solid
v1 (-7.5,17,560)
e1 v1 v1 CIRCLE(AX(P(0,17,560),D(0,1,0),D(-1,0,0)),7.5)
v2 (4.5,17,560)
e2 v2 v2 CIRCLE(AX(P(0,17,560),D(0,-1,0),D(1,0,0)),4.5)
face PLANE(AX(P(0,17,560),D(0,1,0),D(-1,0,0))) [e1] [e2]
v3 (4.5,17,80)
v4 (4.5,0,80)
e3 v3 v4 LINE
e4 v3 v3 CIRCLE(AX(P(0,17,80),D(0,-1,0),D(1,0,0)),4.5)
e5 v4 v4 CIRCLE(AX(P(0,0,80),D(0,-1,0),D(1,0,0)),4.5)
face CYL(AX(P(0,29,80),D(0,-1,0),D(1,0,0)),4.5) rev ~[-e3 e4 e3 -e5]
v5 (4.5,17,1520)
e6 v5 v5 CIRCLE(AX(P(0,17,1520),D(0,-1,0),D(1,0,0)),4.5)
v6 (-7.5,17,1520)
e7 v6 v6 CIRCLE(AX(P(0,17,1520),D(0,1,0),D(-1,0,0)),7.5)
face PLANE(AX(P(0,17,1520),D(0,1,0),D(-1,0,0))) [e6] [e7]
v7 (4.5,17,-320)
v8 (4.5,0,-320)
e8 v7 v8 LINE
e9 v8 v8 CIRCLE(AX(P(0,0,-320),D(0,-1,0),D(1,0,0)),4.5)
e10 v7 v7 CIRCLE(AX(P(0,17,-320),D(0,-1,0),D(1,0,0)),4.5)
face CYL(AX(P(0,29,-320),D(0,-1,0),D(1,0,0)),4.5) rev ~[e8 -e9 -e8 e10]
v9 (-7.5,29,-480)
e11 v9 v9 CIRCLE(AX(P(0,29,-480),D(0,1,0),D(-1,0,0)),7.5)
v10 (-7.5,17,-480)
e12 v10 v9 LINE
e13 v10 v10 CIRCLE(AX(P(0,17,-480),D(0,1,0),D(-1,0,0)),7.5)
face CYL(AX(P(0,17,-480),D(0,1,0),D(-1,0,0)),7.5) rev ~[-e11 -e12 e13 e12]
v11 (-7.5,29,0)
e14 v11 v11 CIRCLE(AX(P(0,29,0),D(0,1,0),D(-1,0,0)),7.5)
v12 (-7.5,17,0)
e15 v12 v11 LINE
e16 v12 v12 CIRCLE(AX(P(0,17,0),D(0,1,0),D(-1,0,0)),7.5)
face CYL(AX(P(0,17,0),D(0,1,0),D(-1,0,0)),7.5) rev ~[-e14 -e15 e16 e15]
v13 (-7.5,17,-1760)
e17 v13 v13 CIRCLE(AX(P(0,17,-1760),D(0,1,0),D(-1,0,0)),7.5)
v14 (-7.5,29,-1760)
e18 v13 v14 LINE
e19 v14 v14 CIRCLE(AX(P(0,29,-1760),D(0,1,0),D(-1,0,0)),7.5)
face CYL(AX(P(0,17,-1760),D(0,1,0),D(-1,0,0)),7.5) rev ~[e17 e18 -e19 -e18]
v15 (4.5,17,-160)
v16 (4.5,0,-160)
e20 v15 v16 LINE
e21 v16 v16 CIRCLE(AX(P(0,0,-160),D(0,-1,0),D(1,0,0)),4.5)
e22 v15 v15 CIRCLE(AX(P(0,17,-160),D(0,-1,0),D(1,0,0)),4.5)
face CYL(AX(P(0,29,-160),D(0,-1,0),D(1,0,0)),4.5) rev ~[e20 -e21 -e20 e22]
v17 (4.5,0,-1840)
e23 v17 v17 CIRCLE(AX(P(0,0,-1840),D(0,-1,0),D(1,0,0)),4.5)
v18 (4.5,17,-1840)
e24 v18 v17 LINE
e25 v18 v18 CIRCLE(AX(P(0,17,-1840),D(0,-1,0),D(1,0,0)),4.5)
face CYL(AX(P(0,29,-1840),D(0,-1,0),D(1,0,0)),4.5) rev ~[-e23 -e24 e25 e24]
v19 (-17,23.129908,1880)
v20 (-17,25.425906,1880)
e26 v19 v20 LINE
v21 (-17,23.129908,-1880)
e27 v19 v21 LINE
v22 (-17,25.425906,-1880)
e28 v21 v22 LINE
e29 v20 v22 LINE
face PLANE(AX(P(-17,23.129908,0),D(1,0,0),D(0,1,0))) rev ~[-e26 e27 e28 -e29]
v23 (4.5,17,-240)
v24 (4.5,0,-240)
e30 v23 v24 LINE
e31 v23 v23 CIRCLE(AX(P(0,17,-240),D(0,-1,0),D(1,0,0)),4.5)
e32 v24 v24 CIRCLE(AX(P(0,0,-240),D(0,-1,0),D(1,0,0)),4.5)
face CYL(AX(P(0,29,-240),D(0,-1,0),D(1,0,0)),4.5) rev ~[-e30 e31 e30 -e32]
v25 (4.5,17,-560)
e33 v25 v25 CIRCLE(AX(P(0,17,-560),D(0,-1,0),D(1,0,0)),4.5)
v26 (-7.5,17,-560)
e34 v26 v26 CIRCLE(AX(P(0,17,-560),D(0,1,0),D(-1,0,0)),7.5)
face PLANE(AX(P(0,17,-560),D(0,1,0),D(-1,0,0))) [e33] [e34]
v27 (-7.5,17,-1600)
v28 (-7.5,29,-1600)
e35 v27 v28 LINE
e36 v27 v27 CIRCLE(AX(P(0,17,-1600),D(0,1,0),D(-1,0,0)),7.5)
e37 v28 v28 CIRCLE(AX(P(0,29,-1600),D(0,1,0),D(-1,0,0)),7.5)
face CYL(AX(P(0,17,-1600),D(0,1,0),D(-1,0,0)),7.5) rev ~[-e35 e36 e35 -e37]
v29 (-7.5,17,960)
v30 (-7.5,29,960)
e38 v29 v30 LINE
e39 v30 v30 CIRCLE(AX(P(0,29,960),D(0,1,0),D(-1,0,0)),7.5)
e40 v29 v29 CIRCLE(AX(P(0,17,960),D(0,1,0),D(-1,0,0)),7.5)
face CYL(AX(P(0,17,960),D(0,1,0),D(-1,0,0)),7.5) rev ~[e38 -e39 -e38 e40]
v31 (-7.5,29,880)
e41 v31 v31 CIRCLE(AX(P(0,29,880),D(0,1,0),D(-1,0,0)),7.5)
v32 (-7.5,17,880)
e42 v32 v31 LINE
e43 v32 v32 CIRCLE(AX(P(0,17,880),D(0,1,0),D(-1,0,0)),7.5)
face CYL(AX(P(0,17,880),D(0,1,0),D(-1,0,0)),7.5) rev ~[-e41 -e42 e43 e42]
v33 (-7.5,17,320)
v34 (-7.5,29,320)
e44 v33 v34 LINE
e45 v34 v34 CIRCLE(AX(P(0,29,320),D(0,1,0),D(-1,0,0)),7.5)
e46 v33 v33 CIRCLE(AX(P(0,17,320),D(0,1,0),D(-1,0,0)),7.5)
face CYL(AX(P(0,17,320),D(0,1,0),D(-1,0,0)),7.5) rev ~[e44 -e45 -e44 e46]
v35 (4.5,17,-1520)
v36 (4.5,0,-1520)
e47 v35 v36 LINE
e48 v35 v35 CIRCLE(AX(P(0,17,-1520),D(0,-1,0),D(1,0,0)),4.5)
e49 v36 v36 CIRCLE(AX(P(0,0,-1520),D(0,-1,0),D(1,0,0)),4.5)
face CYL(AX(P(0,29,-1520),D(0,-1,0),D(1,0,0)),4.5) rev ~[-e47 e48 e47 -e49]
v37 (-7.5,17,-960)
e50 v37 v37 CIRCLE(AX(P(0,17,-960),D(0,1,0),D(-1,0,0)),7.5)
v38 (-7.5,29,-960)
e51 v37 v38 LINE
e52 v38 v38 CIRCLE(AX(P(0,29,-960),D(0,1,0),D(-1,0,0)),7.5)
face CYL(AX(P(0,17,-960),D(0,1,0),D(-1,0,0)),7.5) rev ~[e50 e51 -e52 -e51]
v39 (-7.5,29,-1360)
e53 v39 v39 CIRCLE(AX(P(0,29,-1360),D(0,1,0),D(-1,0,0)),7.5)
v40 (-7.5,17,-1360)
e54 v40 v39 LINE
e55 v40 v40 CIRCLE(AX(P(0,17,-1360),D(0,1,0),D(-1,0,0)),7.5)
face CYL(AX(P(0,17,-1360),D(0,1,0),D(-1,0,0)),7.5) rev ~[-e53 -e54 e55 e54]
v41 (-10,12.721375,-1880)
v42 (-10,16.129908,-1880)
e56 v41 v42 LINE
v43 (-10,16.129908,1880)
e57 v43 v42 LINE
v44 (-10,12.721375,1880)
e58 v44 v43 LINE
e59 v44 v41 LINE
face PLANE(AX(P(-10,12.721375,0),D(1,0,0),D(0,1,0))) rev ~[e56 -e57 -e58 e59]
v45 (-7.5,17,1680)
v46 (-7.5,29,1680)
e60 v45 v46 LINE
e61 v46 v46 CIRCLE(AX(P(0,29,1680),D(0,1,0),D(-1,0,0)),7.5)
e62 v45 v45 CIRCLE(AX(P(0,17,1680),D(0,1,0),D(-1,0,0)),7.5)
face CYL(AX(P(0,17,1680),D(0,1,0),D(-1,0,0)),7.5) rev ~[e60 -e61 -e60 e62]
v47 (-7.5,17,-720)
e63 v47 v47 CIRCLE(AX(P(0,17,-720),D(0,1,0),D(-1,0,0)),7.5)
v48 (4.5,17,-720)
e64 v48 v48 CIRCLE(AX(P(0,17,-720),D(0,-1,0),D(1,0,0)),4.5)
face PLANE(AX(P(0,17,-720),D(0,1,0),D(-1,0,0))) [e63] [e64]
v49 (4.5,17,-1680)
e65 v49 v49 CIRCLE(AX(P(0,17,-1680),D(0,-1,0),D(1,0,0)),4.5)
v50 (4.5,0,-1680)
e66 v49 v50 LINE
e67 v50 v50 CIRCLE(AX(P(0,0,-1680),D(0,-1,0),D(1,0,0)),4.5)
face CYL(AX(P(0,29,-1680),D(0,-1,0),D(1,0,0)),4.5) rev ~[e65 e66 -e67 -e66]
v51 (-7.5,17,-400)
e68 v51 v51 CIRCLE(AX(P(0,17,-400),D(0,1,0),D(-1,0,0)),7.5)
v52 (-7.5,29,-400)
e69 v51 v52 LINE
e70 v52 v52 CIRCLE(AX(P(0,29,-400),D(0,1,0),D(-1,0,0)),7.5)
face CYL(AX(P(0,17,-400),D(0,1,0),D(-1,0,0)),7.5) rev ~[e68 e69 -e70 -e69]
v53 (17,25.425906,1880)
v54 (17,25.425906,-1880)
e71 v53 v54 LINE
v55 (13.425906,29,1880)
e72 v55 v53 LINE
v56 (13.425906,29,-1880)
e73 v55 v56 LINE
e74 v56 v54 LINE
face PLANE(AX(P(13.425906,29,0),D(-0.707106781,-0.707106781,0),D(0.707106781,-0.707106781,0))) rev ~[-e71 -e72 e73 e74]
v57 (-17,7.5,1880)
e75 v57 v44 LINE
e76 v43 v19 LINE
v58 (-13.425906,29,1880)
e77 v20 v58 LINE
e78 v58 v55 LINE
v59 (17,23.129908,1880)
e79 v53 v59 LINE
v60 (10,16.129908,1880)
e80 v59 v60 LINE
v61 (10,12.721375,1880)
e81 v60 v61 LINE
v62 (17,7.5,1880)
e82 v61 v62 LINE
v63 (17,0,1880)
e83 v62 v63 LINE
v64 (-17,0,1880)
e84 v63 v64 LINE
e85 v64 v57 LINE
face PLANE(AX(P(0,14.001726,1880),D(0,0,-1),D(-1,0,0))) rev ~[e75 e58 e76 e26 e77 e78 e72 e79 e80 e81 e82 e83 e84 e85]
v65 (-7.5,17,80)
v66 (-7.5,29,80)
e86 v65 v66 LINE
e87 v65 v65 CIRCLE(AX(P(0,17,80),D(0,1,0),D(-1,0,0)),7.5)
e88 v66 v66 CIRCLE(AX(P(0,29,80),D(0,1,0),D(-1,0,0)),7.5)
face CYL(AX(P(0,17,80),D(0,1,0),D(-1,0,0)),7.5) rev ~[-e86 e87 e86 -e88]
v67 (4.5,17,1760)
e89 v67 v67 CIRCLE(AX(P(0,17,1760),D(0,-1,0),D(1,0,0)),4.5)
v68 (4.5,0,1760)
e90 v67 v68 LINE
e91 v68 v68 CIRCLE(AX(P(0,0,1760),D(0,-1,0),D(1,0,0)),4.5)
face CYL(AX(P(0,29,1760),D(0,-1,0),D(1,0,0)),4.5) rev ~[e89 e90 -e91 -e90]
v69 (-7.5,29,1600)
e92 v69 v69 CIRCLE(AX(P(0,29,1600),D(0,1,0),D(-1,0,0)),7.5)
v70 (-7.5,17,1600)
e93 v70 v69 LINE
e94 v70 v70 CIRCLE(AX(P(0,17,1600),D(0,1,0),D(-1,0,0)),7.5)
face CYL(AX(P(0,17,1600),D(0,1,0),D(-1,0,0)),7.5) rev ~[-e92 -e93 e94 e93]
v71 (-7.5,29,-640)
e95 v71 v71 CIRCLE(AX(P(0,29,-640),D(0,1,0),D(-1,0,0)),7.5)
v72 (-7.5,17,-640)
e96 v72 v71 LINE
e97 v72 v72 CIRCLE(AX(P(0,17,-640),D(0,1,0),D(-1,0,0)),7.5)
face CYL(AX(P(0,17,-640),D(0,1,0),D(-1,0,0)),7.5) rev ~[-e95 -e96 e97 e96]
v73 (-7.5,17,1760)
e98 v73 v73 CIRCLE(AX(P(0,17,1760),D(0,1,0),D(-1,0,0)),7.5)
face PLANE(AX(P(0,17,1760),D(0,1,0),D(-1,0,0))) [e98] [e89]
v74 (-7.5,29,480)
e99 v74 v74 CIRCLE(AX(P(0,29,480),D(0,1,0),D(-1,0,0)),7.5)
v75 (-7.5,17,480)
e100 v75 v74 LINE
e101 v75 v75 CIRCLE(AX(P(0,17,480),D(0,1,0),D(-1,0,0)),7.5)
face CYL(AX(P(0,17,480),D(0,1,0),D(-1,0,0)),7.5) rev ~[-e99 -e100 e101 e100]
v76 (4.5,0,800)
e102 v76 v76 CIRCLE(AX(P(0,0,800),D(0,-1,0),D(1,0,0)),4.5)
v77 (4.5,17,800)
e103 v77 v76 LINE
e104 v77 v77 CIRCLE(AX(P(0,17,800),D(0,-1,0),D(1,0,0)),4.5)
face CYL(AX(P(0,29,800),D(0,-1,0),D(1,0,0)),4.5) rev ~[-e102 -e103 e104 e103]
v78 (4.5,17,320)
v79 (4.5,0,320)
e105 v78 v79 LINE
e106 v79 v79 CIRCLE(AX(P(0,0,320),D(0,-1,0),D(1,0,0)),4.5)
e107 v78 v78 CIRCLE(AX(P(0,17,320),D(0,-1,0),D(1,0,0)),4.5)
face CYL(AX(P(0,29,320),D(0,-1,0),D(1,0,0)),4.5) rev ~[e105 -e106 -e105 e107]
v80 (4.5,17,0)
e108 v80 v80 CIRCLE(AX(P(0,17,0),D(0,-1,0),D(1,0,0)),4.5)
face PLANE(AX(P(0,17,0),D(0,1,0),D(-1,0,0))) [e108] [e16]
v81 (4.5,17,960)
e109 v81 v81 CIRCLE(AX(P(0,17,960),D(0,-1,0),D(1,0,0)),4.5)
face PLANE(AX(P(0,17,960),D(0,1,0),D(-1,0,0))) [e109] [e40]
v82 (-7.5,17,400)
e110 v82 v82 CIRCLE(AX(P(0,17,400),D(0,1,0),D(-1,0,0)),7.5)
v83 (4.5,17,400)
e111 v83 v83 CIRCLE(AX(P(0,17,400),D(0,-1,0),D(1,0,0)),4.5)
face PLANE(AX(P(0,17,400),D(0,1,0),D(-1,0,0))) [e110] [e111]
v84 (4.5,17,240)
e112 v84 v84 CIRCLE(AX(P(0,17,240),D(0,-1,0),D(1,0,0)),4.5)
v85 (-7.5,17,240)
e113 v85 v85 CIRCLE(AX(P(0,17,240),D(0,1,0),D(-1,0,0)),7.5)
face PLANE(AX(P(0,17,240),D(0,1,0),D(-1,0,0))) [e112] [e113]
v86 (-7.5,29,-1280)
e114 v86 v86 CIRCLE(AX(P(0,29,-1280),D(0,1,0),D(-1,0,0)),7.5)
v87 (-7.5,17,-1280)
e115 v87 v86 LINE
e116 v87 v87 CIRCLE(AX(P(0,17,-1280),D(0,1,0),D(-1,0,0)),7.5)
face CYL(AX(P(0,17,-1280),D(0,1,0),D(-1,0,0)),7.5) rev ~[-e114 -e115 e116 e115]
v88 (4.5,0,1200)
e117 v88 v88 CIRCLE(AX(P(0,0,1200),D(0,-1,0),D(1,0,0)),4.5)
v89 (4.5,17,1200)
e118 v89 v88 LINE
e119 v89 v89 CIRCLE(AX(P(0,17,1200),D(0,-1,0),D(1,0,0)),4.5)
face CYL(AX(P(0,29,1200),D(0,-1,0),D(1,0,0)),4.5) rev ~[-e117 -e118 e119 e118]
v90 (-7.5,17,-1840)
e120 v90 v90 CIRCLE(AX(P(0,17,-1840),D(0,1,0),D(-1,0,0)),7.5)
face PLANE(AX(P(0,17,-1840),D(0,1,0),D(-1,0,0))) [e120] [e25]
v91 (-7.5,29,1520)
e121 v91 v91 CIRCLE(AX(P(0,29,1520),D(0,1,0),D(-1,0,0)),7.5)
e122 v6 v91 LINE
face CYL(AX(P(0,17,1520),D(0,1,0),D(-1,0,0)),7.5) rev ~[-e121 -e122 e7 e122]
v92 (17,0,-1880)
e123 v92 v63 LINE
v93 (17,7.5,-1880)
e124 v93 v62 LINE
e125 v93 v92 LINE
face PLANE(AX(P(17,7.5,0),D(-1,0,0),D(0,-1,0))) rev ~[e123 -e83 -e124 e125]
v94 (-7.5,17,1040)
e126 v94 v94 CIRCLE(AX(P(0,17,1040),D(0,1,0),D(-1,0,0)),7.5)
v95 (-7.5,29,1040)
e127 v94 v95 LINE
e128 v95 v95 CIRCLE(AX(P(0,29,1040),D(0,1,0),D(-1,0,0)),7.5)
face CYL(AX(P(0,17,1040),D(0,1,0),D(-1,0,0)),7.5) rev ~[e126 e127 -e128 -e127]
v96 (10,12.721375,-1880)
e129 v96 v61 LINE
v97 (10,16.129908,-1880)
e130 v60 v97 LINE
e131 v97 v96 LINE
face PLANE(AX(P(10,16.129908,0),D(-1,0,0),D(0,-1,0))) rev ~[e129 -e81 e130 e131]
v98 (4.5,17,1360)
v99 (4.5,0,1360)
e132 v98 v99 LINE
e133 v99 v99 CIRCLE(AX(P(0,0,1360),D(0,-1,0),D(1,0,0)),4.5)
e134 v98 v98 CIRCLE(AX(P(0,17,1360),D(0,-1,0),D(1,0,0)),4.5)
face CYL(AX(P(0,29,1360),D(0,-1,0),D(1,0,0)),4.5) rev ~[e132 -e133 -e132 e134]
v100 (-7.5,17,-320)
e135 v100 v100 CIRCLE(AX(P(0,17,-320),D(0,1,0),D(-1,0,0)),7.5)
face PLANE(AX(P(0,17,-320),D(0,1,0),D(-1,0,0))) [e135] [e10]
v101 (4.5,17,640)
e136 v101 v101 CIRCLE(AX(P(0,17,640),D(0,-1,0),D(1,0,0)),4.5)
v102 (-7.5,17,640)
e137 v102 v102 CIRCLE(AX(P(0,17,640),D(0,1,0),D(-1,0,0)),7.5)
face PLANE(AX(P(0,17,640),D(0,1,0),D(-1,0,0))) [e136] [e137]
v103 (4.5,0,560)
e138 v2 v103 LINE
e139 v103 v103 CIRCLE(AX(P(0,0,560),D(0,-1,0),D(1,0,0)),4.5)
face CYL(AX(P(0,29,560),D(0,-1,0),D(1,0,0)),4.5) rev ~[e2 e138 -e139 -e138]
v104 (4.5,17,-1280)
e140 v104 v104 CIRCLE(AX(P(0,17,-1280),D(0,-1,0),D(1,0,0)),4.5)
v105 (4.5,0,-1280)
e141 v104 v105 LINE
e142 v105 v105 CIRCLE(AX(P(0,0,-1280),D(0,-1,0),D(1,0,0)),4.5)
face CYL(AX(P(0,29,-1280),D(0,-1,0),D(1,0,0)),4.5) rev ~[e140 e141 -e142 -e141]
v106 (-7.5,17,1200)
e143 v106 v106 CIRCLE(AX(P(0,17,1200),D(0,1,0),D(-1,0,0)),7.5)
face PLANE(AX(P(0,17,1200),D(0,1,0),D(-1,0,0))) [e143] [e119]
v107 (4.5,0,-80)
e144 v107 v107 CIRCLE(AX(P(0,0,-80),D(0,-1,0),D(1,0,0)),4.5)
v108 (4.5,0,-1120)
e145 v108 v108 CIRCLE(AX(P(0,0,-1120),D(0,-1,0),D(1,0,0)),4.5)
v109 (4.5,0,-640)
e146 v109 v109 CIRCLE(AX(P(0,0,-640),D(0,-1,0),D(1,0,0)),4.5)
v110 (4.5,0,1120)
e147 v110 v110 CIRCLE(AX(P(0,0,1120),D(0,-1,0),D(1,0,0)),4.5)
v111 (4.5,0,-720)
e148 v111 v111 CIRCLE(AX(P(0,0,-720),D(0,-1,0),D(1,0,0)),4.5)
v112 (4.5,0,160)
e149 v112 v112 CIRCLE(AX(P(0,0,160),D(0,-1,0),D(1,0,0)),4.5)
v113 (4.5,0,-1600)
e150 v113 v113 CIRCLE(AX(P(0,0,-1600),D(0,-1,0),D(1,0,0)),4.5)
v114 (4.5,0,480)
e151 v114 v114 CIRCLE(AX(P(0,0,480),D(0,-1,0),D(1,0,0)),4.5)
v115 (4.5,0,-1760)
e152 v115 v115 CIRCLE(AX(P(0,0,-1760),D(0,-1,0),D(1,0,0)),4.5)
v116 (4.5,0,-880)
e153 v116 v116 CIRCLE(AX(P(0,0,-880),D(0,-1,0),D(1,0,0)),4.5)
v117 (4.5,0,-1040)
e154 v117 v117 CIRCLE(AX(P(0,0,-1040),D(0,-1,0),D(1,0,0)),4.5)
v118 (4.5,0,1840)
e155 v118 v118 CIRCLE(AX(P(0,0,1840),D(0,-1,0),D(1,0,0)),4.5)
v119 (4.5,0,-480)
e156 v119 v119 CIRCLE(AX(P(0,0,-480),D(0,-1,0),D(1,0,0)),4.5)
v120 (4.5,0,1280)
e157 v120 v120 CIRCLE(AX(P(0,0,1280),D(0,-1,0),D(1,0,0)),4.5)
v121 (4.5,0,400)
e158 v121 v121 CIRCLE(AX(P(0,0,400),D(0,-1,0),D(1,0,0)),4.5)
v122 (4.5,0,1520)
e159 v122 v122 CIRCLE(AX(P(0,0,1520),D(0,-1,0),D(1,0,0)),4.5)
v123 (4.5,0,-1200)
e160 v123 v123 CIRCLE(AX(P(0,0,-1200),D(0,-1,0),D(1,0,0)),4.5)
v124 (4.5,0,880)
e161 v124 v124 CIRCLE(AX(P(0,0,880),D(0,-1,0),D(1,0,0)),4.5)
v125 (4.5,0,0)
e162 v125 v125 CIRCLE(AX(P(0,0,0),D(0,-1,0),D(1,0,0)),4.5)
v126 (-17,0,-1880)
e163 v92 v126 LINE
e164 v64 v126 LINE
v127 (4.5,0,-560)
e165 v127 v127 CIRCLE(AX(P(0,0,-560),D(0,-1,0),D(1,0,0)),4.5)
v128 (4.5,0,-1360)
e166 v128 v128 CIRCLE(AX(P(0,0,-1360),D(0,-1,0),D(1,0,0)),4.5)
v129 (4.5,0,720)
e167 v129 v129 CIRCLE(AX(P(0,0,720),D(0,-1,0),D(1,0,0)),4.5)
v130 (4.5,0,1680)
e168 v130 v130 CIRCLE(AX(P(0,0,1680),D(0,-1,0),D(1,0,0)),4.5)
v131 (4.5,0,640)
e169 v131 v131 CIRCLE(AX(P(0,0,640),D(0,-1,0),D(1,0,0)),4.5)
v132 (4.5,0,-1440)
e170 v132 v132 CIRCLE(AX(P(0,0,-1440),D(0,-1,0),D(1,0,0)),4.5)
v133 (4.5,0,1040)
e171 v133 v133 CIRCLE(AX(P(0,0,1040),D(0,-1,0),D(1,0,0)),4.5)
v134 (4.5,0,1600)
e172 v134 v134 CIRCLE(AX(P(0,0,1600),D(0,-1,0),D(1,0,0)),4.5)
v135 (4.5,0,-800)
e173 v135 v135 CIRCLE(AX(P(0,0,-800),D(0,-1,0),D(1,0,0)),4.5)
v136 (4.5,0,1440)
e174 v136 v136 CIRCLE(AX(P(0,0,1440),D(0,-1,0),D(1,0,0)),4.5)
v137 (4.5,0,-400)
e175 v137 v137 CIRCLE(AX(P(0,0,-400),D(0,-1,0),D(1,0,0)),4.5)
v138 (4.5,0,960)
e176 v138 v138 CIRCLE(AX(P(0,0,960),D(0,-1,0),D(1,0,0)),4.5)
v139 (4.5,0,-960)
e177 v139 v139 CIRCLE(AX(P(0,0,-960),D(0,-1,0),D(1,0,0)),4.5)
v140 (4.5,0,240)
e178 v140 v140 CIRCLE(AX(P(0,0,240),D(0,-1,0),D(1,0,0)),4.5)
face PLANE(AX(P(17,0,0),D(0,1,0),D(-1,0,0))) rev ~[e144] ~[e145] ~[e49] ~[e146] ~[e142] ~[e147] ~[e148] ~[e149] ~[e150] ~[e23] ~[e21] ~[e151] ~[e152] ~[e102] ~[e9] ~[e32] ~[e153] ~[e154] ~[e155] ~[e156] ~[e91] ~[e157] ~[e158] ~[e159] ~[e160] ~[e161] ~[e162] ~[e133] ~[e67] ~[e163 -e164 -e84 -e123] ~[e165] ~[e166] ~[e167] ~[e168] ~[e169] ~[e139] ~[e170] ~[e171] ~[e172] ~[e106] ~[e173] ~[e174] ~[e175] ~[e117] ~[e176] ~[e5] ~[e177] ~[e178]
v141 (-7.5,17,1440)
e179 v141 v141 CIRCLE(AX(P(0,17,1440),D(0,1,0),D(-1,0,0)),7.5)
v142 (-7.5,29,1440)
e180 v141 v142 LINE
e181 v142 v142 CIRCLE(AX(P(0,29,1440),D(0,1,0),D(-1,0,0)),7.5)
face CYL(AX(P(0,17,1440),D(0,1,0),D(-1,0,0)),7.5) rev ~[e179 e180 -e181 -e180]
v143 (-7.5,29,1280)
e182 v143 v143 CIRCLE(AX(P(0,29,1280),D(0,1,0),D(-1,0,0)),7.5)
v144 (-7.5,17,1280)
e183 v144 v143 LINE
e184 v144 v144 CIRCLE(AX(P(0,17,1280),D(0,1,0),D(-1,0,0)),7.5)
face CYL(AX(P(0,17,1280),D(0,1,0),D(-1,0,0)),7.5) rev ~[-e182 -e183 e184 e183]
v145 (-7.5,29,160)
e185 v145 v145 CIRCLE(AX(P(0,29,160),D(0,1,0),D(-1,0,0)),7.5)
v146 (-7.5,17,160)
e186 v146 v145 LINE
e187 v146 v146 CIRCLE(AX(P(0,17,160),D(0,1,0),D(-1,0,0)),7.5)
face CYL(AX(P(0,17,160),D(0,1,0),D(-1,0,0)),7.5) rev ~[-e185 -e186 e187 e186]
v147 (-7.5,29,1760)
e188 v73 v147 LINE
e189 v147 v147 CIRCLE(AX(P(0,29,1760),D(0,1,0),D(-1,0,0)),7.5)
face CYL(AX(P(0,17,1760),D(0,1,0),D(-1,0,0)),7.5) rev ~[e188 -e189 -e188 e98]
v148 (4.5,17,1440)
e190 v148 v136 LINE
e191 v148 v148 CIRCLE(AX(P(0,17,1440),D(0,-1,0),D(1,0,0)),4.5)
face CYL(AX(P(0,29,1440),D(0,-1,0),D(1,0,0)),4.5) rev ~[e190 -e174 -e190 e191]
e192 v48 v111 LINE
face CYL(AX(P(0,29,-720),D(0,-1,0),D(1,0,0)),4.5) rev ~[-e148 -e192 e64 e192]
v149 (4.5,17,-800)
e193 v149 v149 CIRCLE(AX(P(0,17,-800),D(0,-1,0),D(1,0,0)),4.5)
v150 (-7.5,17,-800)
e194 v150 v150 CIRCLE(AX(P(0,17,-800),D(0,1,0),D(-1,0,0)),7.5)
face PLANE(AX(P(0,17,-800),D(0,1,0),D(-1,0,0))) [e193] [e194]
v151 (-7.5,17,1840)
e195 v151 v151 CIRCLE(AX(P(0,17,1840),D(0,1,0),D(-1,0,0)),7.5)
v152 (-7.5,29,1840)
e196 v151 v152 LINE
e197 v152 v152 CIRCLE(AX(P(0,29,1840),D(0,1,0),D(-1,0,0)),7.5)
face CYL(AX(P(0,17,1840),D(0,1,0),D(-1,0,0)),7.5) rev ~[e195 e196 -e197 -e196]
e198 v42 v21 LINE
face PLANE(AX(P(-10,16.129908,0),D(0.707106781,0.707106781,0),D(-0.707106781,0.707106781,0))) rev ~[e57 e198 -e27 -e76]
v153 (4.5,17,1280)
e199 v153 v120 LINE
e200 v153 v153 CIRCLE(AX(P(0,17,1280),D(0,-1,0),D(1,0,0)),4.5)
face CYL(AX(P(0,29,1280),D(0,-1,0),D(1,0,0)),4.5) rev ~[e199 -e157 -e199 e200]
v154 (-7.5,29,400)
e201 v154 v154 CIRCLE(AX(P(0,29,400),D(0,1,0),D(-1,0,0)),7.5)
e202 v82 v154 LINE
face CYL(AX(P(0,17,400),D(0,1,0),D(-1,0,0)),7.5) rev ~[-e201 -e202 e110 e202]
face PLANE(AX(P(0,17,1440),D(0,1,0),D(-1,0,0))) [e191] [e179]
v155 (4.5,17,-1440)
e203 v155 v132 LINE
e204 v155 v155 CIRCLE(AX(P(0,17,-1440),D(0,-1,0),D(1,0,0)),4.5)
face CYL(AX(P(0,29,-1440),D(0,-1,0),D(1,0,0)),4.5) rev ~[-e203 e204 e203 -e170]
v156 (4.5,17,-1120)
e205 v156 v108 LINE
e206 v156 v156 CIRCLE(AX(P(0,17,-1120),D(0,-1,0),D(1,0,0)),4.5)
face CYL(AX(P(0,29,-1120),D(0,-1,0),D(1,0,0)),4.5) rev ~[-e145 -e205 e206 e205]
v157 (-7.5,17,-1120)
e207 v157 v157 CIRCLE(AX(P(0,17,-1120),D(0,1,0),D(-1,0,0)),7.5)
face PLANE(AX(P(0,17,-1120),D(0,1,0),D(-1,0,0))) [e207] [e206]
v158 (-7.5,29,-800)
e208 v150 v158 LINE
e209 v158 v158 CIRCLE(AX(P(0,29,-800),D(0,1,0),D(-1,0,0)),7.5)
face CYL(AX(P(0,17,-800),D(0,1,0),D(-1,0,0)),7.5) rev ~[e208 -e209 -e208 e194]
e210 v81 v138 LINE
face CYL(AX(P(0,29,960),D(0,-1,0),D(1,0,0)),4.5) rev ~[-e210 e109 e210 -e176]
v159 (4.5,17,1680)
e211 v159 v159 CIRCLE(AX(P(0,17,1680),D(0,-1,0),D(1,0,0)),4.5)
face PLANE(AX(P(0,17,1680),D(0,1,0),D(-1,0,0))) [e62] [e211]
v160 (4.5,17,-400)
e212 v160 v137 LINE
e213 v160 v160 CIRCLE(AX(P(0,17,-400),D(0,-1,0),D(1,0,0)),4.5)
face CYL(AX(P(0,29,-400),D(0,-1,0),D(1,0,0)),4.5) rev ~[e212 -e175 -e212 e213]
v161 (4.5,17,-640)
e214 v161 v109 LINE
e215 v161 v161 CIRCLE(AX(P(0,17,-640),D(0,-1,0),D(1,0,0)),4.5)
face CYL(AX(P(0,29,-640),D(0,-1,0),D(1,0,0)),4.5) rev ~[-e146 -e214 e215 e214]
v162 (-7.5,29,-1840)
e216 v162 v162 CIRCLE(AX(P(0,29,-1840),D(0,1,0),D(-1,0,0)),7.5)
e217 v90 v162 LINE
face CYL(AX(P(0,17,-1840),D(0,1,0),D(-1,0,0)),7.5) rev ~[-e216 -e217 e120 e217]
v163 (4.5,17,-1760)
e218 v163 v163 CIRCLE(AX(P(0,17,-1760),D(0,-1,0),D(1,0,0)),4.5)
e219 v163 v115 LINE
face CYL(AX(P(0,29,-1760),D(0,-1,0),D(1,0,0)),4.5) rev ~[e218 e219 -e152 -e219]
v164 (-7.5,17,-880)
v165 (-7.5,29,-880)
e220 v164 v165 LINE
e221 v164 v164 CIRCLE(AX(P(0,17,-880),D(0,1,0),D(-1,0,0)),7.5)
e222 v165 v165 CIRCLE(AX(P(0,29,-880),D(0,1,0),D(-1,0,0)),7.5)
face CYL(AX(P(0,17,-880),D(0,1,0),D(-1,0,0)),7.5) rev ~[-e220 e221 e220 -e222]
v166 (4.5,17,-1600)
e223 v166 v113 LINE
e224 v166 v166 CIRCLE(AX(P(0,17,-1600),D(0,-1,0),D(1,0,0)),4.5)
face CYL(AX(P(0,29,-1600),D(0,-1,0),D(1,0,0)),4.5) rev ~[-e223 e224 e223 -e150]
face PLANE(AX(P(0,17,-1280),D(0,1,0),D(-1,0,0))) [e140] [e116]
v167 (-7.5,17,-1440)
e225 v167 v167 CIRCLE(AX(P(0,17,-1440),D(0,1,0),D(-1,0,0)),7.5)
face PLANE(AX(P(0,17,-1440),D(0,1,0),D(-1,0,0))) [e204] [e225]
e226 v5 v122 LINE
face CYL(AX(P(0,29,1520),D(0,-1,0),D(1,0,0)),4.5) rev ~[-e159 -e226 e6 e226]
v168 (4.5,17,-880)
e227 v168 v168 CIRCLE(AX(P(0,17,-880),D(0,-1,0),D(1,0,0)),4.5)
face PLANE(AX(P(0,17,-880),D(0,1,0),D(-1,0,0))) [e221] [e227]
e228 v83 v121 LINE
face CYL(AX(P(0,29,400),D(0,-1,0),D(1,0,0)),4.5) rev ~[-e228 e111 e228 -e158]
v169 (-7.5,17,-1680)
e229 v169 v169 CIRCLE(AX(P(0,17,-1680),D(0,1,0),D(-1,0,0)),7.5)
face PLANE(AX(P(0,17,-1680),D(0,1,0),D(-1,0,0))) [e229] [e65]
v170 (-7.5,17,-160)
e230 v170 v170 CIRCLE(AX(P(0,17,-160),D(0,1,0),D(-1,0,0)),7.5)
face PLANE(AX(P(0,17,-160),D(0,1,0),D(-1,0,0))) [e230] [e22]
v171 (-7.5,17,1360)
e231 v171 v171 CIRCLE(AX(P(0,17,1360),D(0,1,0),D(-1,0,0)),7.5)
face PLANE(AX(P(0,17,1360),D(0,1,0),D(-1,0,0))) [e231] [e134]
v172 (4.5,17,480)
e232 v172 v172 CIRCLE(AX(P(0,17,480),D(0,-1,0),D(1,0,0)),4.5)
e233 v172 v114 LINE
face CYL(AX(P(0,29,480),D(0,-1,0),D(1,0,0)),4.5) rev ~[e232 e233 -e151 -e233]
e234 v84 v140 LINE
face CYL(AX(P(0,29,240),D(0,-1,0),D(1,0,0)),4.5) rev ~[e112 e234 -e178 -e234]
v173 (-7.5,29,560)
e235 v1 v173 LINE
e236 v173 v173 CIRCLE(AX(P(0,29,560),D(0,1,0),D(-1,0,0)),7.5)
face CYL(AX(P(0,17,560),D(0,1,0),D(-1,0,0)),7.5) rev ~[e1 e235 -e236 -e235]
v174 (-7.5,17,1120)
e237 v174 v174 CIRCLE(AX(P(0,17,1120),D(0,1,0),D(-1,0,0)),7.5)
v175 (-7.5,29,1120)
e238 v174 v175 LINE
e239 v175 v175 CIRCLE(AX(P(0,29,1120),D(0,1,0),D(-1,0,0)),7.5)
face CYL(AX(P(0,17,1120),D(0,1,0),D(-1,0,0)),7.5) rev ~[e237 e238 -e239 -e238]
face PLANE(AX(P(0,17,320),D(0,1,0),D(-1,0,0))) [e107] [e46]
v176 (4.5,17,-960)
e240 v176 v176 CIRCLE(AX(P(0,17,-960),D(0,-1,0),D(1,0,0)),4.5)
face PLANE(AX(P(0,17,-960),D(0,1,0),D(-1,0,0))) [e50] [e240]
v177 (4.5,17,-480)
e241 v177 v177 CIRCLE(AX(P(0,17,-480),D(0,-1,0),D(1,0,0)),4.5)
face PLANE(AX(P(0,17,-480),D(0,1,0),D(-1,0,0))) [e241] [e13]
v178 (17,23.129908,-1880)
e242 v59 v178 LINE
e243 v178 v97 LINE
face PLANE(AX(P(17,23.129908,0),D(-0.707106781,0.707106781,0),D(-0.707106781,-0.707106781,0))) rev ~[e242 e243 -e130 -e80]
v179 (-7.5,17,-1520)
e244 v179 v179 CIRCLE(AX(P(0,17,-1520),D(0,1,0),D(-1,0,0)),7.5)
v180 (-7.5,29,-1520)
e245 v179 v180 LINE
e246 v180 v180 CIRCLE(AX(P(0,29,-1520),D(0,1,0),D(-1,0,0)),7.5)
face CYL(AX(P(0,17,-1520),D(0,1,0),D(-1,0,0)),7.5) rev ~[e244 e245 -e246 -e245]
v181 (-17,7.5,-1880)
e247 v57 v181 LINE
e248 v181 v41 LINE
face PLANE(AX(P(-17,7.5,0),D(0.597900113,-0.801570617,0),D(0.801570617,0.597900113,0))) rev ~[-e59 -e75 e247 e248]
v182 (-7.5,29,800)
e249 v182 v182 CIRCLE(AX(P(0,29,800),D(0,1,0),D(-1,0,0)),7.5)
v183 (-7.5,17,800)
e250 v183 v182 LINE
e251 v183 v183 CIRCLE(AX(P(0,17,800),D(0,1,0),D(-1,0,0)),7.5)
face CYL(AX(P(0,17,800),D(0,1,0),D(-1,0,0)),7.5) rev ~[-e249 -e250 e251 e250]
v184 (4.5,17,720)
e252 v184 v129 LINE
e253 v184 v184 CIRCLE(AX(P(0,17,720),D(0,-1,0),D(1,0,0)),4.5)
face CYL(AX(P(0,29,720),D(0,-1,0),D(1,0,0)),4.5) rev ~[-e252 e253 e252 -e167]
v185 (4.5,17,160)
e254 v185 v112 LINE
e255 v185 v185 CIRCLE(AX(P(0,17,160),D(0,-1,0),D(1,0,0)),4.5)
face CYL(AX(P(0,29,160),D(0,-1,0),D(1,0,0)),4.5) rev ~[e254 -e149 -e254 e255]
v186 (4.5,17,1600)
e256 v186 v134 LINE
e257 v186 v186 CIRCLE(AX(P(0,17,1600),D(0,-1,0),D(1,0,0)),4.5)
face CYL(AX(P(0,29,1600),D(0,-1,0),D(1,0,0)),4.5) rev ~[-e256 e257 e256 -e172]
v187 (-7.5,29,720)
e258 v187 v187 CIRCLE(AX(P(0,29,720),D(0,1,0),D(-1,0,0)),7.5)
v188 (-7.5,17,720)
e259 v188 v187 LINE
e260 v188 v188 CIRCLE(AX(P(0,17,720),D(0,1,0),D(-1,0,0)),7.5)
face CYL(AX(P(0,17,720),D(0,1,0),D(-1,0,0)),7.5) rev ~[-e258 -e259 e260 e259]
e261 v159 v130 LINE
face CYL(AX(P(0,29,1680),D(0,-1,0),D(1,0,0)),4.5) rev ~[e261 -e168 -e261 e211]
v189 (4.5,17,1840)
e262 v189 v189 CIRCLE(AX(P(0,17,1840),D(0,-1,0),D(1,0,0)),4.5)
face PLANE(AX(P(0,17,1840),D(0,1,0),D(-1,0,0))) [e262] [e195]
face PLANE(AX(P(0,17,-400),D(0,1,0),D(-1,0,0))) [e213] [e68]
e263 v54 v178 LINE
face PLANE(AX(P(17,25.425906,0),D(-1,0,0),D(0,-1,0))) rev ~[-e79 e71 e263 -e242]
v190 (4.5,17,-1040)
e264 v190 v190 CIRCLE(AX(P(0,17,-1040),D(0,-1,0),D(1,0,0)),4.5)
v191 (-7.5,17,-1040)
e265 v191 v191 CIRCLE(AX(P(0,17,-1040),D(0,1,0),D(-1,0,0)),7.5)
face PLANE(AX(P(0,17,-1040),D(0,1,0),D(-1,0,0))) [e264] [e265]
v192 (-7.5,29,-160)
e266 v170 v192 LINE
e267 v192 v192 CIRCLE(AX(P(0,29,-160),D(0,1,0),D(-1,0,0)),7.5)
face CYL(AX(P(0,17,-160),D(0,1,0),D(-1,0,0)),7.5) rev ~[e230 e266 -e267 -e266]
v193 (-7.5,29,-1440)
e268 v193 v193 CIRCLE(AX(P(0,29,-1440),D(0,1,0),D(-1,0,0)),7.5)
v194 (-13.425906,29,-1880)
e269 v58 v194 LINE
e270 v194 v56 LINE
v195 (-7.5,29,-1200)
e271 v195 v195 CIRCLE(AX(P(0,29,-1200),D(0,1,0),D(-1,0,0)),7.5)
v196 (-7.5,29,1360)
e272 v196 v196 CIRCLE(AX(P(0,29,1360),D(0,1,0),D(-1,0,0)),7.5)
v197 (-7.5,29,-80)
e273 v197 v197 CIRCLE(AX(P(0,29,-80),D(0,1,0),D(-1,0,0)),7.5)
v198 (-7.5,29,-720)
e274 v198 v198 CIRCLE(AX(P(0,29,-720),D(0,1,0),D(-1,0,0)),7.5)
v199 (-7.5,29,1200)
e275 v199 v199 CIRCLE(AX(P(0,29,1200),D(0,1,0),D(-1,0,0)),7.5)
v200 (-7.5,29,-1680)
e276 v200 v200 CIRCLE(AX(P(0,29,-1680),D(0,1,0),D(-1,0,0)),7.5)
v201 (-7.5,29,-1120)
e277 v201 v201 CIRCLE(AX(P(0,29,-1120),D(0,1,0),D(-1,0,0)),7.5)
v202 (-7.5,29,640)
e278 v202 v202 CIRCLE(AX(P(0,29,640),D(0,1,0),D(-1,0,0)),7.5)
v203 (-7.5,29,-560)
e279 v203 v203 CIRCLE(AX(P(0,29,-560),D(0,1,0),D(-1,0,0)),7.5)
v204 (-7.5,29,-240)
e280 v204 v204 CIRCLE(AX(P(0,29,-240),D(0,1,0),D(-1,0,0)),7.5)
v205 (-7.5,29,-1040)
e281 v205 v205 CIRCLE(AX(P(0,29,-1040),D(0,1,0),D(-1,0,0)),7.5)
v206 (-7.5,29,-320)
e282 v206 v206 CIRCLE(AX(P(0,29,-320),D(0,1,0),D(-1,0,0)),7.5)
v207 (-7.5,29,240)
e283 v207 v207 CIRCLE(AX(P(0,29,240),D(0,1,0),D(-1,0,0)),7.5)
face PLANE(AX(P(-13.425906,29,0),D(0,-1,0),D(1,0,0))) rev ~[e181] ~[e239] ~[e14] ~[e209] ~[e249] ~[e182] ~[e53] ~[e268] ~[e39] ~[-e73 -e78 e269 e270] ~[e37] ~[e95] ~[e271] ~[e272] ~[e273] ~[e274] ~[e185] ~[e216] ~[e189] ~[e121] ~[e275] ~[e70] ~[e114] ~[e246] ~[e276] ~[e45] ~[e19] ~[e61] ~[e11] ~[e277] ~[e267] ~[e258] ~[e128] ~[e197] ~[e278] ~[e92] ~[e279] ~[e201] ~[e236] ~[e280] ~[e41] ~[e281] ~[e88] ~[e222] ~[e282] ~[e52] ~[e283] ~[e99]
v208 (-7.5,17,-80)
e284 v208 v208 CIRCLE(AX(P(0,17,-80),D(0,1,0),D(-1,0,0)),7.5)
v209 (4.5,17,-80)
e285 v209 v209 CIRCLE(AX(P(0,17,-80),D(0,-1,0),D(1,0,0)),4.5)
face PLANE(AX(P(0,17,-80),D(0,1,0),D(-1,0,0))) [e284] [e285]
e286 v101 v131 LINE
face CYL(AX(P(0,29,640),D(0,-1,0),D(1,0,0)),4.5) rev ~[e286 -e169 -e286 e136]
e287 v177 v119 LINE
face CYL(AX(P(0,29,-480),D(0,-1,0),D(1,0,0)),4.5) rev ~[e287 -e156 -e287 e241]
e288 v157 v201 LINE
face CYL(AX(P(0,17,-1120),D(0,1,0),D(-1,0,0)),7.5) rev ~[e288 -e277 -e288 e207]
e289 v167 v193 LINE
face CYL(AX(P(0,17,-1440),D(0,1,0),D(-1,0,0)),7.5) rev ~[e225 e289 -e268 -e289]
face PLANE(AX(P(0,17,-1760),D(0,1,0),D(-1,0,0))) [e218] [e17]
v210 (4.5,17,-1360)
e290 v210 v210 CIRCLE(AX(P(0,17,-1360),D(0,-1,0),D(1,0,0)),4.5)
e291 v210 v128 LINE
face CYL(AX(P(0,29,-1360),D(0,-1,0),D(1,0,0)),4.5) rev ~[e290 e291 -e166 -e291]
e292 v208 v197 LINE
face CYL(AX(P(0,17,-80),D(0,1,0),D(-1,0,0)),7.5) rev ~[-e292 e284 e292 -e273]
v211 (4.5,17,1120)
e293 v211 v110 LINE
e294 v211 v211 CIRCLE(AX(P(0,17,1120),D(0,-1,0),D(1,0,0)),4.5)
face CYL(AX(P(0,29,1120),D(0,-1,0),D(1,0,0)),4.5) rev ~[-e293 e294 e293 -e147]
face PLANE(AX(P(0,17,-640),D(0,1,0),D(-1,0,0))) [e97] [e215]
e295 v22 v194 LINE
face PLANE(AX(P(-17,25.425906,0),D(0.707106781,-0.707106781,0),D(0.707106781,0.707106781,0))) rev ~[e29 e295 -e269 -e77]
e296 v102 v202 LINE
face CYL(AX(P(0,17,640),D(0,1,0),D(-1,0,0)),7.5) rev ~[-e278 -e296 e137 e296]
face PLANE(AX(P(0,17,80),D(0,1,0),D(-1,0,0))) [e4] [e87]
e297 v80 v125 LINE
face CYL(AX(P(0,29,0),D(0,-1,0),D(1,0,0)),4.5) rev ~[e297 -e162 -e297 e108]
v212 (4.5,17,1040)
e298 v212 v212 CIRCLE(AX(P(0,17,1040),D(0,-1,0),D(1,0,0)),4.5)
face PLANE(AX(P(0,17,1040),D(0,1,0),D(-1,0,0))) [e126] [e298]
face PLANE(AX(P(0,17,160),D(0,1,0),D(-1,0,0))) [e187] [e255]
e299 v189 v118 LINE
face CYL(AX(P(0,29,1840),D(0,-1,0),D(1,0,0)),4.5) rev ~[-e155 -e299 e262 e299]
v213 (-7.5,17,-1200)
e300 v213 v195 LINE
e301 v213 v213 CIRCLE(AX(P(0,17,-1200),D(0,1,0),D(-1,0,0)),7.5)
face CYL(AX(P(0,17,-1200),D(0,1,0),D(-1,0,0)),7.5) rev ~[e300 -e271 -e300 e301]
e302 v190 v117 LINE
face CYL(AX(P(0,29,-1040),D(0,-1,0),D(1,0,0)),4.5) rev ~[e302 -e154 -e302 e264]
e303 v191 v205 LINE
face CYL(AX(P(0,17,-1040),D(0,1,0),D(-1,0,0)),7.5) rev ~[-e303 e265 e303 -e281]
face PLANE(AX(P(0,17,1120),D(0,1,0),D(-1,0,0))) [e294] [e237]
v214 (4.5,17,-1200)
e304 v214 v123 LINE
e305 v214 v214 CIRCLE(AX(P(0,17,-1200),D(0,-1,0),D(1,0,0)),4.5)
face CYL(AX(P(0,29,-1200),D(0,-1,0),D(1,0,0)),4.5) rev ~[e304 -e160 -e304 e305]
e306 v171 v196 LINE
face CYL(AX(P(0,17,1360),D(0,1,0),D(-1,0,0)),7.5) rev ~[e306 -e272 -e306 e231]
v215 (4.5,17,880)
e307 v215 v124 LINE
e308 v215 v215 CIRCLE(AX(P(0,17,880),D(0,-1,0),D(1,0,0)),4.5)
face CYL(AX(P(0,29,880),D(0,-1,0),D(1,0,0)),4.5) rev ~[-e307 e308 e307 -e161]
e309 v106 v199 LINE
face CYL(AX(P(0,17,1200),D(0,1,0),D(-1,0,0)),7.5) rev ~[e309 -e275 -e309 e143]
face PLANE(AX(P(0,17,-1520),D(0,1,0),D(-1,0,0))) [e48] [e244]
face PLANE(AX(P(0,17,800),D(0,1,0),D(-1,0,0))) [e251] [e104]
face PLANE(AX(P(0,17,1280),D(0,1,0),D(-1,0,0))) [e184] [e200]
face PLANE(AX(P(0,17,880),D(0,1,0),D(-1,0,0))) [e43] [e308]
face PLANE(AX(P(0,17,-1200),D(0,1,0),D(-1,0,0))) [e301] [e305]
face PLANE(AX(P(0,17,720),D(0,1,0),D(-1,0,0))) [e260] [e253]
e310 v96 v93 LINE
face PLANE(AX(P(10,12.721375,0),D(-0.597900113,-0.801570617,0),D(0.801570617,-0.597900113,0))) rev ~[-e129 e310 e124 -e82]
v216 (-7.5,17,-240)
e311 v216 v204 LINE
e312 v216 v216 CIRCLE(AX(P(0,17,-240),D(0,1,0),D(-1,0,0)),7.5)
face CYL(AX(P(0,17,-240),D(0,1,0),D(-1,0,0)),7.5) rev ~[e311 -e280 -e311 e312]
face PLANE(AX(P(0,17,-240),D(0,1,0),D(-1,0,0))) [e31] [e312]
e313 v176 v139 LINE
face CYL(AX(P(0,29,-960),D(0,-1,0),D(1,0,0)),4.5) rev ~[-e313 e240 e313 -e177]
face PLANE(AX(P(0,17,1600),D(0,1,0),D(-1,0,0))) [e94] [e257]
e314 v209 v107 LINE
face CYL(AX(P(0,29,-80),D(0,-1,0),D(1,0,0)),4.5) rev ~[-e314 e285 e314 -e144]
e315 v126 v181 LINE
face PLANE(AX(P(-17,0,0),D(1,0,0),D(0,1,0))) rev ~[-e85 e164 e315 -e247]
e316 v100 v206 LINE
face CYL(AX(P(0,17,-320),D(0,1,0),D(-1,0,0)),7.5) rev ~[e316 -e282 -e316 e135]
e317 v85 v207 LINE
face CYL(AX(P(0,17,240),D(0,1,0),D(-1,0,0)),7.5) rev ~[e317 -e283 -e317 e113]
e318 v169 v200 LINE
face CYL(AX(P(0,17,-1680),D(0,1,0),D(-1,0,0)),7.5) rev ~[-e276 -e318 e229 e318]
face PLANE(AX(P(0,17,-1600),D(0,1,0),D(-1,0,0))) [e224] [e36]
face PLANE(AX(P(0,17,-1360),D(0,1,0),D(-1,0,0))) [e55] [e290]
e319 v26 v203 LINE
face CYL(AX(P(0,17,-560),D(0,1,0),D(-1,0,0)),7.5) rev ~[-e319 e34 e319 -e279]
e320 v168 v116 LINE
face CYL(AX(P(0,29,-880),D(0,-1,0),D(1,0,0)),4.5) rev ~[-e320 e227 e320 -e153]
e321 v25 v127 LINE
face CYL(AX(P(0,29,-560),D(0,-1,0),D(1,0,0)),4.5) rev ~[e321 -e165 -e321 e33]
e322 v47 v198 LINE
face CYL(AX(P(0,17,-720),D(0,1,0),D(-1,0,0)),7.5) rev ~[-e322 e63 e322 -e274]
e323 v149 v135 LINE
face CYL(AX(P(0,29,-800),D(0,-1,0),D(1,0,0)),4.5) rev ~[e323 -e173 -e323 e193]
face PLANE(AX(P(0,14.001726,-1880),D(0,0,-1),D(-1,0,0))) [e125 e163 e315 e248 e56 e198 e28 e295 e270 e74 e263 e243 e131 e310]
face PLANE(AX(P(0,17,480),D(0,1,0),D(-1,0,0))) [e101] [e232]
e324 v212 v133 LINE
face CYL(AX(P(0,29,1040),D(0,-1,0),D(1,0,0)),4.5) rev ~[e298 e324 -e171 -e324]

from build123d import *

# Parameters (mm, degrees)
EXTRUDE_1_DEPTH              = 1880
HOLE_WIZARD_M8_1_D           = 9
HOLE_WIZARD_M8_1_CBORE_D     = 15
HOLE_WIZARD_M8_1_CBORE_DEPTH = 12
PATTERN_LINEAR_1_COUNT       = 47
PATTERN_LINEAR_1_PITCH       = 80


with BuildPart() as part:
    # 草圖1 → 伸長1 (new, symmetric)
    with BuildSketch(Plane.XY):
        Polygon((17, 0), (-17, 0), (-17, 7.5), (-10, 12.721375014), (-10, 16.129907798), (-17, 23.129907798), (-17, 25.4259063), (-13.4259063, 29), (13.4259063, 29), (17, 25.4259063), (17, 23.129907798), (10, 16.129907798), (10, 12.721375014), (17, 7.5), align=None)
    extrude(amount=EXTRUDE_1_DEPTH, both=True)

    # M8 內六角圓柱頭螺釘的柱孔1 (through all)
    with Locations(Plane(origin=(0, 29, 0), x_dir=(-1, 0, 0), z_dir=(0, 1, 0))):
        with Locations((0, -1840)):
            hole_wizard_m8_1 = CounterBoreHole(HOLE_WIZARD_M8_1_D / 2, HOLE_WIZARD_M8_1_CBORE_D / 2, HOLE_WIZARD_M8_1_CBORE_DEPTH)

    # 直線複製排列1: M8 內六角圓柱頭螺釘的柱孔1 ×47
    with Locations(*[(0, 0, i * PATTERN_LINEAR_1_PITCH) for i in range(1, PATTERN_LINEAR_1_COUNT)]):
        add(hole_wizard_m8_1, mode=Mode.SUBTRACT)


solid = part.part
